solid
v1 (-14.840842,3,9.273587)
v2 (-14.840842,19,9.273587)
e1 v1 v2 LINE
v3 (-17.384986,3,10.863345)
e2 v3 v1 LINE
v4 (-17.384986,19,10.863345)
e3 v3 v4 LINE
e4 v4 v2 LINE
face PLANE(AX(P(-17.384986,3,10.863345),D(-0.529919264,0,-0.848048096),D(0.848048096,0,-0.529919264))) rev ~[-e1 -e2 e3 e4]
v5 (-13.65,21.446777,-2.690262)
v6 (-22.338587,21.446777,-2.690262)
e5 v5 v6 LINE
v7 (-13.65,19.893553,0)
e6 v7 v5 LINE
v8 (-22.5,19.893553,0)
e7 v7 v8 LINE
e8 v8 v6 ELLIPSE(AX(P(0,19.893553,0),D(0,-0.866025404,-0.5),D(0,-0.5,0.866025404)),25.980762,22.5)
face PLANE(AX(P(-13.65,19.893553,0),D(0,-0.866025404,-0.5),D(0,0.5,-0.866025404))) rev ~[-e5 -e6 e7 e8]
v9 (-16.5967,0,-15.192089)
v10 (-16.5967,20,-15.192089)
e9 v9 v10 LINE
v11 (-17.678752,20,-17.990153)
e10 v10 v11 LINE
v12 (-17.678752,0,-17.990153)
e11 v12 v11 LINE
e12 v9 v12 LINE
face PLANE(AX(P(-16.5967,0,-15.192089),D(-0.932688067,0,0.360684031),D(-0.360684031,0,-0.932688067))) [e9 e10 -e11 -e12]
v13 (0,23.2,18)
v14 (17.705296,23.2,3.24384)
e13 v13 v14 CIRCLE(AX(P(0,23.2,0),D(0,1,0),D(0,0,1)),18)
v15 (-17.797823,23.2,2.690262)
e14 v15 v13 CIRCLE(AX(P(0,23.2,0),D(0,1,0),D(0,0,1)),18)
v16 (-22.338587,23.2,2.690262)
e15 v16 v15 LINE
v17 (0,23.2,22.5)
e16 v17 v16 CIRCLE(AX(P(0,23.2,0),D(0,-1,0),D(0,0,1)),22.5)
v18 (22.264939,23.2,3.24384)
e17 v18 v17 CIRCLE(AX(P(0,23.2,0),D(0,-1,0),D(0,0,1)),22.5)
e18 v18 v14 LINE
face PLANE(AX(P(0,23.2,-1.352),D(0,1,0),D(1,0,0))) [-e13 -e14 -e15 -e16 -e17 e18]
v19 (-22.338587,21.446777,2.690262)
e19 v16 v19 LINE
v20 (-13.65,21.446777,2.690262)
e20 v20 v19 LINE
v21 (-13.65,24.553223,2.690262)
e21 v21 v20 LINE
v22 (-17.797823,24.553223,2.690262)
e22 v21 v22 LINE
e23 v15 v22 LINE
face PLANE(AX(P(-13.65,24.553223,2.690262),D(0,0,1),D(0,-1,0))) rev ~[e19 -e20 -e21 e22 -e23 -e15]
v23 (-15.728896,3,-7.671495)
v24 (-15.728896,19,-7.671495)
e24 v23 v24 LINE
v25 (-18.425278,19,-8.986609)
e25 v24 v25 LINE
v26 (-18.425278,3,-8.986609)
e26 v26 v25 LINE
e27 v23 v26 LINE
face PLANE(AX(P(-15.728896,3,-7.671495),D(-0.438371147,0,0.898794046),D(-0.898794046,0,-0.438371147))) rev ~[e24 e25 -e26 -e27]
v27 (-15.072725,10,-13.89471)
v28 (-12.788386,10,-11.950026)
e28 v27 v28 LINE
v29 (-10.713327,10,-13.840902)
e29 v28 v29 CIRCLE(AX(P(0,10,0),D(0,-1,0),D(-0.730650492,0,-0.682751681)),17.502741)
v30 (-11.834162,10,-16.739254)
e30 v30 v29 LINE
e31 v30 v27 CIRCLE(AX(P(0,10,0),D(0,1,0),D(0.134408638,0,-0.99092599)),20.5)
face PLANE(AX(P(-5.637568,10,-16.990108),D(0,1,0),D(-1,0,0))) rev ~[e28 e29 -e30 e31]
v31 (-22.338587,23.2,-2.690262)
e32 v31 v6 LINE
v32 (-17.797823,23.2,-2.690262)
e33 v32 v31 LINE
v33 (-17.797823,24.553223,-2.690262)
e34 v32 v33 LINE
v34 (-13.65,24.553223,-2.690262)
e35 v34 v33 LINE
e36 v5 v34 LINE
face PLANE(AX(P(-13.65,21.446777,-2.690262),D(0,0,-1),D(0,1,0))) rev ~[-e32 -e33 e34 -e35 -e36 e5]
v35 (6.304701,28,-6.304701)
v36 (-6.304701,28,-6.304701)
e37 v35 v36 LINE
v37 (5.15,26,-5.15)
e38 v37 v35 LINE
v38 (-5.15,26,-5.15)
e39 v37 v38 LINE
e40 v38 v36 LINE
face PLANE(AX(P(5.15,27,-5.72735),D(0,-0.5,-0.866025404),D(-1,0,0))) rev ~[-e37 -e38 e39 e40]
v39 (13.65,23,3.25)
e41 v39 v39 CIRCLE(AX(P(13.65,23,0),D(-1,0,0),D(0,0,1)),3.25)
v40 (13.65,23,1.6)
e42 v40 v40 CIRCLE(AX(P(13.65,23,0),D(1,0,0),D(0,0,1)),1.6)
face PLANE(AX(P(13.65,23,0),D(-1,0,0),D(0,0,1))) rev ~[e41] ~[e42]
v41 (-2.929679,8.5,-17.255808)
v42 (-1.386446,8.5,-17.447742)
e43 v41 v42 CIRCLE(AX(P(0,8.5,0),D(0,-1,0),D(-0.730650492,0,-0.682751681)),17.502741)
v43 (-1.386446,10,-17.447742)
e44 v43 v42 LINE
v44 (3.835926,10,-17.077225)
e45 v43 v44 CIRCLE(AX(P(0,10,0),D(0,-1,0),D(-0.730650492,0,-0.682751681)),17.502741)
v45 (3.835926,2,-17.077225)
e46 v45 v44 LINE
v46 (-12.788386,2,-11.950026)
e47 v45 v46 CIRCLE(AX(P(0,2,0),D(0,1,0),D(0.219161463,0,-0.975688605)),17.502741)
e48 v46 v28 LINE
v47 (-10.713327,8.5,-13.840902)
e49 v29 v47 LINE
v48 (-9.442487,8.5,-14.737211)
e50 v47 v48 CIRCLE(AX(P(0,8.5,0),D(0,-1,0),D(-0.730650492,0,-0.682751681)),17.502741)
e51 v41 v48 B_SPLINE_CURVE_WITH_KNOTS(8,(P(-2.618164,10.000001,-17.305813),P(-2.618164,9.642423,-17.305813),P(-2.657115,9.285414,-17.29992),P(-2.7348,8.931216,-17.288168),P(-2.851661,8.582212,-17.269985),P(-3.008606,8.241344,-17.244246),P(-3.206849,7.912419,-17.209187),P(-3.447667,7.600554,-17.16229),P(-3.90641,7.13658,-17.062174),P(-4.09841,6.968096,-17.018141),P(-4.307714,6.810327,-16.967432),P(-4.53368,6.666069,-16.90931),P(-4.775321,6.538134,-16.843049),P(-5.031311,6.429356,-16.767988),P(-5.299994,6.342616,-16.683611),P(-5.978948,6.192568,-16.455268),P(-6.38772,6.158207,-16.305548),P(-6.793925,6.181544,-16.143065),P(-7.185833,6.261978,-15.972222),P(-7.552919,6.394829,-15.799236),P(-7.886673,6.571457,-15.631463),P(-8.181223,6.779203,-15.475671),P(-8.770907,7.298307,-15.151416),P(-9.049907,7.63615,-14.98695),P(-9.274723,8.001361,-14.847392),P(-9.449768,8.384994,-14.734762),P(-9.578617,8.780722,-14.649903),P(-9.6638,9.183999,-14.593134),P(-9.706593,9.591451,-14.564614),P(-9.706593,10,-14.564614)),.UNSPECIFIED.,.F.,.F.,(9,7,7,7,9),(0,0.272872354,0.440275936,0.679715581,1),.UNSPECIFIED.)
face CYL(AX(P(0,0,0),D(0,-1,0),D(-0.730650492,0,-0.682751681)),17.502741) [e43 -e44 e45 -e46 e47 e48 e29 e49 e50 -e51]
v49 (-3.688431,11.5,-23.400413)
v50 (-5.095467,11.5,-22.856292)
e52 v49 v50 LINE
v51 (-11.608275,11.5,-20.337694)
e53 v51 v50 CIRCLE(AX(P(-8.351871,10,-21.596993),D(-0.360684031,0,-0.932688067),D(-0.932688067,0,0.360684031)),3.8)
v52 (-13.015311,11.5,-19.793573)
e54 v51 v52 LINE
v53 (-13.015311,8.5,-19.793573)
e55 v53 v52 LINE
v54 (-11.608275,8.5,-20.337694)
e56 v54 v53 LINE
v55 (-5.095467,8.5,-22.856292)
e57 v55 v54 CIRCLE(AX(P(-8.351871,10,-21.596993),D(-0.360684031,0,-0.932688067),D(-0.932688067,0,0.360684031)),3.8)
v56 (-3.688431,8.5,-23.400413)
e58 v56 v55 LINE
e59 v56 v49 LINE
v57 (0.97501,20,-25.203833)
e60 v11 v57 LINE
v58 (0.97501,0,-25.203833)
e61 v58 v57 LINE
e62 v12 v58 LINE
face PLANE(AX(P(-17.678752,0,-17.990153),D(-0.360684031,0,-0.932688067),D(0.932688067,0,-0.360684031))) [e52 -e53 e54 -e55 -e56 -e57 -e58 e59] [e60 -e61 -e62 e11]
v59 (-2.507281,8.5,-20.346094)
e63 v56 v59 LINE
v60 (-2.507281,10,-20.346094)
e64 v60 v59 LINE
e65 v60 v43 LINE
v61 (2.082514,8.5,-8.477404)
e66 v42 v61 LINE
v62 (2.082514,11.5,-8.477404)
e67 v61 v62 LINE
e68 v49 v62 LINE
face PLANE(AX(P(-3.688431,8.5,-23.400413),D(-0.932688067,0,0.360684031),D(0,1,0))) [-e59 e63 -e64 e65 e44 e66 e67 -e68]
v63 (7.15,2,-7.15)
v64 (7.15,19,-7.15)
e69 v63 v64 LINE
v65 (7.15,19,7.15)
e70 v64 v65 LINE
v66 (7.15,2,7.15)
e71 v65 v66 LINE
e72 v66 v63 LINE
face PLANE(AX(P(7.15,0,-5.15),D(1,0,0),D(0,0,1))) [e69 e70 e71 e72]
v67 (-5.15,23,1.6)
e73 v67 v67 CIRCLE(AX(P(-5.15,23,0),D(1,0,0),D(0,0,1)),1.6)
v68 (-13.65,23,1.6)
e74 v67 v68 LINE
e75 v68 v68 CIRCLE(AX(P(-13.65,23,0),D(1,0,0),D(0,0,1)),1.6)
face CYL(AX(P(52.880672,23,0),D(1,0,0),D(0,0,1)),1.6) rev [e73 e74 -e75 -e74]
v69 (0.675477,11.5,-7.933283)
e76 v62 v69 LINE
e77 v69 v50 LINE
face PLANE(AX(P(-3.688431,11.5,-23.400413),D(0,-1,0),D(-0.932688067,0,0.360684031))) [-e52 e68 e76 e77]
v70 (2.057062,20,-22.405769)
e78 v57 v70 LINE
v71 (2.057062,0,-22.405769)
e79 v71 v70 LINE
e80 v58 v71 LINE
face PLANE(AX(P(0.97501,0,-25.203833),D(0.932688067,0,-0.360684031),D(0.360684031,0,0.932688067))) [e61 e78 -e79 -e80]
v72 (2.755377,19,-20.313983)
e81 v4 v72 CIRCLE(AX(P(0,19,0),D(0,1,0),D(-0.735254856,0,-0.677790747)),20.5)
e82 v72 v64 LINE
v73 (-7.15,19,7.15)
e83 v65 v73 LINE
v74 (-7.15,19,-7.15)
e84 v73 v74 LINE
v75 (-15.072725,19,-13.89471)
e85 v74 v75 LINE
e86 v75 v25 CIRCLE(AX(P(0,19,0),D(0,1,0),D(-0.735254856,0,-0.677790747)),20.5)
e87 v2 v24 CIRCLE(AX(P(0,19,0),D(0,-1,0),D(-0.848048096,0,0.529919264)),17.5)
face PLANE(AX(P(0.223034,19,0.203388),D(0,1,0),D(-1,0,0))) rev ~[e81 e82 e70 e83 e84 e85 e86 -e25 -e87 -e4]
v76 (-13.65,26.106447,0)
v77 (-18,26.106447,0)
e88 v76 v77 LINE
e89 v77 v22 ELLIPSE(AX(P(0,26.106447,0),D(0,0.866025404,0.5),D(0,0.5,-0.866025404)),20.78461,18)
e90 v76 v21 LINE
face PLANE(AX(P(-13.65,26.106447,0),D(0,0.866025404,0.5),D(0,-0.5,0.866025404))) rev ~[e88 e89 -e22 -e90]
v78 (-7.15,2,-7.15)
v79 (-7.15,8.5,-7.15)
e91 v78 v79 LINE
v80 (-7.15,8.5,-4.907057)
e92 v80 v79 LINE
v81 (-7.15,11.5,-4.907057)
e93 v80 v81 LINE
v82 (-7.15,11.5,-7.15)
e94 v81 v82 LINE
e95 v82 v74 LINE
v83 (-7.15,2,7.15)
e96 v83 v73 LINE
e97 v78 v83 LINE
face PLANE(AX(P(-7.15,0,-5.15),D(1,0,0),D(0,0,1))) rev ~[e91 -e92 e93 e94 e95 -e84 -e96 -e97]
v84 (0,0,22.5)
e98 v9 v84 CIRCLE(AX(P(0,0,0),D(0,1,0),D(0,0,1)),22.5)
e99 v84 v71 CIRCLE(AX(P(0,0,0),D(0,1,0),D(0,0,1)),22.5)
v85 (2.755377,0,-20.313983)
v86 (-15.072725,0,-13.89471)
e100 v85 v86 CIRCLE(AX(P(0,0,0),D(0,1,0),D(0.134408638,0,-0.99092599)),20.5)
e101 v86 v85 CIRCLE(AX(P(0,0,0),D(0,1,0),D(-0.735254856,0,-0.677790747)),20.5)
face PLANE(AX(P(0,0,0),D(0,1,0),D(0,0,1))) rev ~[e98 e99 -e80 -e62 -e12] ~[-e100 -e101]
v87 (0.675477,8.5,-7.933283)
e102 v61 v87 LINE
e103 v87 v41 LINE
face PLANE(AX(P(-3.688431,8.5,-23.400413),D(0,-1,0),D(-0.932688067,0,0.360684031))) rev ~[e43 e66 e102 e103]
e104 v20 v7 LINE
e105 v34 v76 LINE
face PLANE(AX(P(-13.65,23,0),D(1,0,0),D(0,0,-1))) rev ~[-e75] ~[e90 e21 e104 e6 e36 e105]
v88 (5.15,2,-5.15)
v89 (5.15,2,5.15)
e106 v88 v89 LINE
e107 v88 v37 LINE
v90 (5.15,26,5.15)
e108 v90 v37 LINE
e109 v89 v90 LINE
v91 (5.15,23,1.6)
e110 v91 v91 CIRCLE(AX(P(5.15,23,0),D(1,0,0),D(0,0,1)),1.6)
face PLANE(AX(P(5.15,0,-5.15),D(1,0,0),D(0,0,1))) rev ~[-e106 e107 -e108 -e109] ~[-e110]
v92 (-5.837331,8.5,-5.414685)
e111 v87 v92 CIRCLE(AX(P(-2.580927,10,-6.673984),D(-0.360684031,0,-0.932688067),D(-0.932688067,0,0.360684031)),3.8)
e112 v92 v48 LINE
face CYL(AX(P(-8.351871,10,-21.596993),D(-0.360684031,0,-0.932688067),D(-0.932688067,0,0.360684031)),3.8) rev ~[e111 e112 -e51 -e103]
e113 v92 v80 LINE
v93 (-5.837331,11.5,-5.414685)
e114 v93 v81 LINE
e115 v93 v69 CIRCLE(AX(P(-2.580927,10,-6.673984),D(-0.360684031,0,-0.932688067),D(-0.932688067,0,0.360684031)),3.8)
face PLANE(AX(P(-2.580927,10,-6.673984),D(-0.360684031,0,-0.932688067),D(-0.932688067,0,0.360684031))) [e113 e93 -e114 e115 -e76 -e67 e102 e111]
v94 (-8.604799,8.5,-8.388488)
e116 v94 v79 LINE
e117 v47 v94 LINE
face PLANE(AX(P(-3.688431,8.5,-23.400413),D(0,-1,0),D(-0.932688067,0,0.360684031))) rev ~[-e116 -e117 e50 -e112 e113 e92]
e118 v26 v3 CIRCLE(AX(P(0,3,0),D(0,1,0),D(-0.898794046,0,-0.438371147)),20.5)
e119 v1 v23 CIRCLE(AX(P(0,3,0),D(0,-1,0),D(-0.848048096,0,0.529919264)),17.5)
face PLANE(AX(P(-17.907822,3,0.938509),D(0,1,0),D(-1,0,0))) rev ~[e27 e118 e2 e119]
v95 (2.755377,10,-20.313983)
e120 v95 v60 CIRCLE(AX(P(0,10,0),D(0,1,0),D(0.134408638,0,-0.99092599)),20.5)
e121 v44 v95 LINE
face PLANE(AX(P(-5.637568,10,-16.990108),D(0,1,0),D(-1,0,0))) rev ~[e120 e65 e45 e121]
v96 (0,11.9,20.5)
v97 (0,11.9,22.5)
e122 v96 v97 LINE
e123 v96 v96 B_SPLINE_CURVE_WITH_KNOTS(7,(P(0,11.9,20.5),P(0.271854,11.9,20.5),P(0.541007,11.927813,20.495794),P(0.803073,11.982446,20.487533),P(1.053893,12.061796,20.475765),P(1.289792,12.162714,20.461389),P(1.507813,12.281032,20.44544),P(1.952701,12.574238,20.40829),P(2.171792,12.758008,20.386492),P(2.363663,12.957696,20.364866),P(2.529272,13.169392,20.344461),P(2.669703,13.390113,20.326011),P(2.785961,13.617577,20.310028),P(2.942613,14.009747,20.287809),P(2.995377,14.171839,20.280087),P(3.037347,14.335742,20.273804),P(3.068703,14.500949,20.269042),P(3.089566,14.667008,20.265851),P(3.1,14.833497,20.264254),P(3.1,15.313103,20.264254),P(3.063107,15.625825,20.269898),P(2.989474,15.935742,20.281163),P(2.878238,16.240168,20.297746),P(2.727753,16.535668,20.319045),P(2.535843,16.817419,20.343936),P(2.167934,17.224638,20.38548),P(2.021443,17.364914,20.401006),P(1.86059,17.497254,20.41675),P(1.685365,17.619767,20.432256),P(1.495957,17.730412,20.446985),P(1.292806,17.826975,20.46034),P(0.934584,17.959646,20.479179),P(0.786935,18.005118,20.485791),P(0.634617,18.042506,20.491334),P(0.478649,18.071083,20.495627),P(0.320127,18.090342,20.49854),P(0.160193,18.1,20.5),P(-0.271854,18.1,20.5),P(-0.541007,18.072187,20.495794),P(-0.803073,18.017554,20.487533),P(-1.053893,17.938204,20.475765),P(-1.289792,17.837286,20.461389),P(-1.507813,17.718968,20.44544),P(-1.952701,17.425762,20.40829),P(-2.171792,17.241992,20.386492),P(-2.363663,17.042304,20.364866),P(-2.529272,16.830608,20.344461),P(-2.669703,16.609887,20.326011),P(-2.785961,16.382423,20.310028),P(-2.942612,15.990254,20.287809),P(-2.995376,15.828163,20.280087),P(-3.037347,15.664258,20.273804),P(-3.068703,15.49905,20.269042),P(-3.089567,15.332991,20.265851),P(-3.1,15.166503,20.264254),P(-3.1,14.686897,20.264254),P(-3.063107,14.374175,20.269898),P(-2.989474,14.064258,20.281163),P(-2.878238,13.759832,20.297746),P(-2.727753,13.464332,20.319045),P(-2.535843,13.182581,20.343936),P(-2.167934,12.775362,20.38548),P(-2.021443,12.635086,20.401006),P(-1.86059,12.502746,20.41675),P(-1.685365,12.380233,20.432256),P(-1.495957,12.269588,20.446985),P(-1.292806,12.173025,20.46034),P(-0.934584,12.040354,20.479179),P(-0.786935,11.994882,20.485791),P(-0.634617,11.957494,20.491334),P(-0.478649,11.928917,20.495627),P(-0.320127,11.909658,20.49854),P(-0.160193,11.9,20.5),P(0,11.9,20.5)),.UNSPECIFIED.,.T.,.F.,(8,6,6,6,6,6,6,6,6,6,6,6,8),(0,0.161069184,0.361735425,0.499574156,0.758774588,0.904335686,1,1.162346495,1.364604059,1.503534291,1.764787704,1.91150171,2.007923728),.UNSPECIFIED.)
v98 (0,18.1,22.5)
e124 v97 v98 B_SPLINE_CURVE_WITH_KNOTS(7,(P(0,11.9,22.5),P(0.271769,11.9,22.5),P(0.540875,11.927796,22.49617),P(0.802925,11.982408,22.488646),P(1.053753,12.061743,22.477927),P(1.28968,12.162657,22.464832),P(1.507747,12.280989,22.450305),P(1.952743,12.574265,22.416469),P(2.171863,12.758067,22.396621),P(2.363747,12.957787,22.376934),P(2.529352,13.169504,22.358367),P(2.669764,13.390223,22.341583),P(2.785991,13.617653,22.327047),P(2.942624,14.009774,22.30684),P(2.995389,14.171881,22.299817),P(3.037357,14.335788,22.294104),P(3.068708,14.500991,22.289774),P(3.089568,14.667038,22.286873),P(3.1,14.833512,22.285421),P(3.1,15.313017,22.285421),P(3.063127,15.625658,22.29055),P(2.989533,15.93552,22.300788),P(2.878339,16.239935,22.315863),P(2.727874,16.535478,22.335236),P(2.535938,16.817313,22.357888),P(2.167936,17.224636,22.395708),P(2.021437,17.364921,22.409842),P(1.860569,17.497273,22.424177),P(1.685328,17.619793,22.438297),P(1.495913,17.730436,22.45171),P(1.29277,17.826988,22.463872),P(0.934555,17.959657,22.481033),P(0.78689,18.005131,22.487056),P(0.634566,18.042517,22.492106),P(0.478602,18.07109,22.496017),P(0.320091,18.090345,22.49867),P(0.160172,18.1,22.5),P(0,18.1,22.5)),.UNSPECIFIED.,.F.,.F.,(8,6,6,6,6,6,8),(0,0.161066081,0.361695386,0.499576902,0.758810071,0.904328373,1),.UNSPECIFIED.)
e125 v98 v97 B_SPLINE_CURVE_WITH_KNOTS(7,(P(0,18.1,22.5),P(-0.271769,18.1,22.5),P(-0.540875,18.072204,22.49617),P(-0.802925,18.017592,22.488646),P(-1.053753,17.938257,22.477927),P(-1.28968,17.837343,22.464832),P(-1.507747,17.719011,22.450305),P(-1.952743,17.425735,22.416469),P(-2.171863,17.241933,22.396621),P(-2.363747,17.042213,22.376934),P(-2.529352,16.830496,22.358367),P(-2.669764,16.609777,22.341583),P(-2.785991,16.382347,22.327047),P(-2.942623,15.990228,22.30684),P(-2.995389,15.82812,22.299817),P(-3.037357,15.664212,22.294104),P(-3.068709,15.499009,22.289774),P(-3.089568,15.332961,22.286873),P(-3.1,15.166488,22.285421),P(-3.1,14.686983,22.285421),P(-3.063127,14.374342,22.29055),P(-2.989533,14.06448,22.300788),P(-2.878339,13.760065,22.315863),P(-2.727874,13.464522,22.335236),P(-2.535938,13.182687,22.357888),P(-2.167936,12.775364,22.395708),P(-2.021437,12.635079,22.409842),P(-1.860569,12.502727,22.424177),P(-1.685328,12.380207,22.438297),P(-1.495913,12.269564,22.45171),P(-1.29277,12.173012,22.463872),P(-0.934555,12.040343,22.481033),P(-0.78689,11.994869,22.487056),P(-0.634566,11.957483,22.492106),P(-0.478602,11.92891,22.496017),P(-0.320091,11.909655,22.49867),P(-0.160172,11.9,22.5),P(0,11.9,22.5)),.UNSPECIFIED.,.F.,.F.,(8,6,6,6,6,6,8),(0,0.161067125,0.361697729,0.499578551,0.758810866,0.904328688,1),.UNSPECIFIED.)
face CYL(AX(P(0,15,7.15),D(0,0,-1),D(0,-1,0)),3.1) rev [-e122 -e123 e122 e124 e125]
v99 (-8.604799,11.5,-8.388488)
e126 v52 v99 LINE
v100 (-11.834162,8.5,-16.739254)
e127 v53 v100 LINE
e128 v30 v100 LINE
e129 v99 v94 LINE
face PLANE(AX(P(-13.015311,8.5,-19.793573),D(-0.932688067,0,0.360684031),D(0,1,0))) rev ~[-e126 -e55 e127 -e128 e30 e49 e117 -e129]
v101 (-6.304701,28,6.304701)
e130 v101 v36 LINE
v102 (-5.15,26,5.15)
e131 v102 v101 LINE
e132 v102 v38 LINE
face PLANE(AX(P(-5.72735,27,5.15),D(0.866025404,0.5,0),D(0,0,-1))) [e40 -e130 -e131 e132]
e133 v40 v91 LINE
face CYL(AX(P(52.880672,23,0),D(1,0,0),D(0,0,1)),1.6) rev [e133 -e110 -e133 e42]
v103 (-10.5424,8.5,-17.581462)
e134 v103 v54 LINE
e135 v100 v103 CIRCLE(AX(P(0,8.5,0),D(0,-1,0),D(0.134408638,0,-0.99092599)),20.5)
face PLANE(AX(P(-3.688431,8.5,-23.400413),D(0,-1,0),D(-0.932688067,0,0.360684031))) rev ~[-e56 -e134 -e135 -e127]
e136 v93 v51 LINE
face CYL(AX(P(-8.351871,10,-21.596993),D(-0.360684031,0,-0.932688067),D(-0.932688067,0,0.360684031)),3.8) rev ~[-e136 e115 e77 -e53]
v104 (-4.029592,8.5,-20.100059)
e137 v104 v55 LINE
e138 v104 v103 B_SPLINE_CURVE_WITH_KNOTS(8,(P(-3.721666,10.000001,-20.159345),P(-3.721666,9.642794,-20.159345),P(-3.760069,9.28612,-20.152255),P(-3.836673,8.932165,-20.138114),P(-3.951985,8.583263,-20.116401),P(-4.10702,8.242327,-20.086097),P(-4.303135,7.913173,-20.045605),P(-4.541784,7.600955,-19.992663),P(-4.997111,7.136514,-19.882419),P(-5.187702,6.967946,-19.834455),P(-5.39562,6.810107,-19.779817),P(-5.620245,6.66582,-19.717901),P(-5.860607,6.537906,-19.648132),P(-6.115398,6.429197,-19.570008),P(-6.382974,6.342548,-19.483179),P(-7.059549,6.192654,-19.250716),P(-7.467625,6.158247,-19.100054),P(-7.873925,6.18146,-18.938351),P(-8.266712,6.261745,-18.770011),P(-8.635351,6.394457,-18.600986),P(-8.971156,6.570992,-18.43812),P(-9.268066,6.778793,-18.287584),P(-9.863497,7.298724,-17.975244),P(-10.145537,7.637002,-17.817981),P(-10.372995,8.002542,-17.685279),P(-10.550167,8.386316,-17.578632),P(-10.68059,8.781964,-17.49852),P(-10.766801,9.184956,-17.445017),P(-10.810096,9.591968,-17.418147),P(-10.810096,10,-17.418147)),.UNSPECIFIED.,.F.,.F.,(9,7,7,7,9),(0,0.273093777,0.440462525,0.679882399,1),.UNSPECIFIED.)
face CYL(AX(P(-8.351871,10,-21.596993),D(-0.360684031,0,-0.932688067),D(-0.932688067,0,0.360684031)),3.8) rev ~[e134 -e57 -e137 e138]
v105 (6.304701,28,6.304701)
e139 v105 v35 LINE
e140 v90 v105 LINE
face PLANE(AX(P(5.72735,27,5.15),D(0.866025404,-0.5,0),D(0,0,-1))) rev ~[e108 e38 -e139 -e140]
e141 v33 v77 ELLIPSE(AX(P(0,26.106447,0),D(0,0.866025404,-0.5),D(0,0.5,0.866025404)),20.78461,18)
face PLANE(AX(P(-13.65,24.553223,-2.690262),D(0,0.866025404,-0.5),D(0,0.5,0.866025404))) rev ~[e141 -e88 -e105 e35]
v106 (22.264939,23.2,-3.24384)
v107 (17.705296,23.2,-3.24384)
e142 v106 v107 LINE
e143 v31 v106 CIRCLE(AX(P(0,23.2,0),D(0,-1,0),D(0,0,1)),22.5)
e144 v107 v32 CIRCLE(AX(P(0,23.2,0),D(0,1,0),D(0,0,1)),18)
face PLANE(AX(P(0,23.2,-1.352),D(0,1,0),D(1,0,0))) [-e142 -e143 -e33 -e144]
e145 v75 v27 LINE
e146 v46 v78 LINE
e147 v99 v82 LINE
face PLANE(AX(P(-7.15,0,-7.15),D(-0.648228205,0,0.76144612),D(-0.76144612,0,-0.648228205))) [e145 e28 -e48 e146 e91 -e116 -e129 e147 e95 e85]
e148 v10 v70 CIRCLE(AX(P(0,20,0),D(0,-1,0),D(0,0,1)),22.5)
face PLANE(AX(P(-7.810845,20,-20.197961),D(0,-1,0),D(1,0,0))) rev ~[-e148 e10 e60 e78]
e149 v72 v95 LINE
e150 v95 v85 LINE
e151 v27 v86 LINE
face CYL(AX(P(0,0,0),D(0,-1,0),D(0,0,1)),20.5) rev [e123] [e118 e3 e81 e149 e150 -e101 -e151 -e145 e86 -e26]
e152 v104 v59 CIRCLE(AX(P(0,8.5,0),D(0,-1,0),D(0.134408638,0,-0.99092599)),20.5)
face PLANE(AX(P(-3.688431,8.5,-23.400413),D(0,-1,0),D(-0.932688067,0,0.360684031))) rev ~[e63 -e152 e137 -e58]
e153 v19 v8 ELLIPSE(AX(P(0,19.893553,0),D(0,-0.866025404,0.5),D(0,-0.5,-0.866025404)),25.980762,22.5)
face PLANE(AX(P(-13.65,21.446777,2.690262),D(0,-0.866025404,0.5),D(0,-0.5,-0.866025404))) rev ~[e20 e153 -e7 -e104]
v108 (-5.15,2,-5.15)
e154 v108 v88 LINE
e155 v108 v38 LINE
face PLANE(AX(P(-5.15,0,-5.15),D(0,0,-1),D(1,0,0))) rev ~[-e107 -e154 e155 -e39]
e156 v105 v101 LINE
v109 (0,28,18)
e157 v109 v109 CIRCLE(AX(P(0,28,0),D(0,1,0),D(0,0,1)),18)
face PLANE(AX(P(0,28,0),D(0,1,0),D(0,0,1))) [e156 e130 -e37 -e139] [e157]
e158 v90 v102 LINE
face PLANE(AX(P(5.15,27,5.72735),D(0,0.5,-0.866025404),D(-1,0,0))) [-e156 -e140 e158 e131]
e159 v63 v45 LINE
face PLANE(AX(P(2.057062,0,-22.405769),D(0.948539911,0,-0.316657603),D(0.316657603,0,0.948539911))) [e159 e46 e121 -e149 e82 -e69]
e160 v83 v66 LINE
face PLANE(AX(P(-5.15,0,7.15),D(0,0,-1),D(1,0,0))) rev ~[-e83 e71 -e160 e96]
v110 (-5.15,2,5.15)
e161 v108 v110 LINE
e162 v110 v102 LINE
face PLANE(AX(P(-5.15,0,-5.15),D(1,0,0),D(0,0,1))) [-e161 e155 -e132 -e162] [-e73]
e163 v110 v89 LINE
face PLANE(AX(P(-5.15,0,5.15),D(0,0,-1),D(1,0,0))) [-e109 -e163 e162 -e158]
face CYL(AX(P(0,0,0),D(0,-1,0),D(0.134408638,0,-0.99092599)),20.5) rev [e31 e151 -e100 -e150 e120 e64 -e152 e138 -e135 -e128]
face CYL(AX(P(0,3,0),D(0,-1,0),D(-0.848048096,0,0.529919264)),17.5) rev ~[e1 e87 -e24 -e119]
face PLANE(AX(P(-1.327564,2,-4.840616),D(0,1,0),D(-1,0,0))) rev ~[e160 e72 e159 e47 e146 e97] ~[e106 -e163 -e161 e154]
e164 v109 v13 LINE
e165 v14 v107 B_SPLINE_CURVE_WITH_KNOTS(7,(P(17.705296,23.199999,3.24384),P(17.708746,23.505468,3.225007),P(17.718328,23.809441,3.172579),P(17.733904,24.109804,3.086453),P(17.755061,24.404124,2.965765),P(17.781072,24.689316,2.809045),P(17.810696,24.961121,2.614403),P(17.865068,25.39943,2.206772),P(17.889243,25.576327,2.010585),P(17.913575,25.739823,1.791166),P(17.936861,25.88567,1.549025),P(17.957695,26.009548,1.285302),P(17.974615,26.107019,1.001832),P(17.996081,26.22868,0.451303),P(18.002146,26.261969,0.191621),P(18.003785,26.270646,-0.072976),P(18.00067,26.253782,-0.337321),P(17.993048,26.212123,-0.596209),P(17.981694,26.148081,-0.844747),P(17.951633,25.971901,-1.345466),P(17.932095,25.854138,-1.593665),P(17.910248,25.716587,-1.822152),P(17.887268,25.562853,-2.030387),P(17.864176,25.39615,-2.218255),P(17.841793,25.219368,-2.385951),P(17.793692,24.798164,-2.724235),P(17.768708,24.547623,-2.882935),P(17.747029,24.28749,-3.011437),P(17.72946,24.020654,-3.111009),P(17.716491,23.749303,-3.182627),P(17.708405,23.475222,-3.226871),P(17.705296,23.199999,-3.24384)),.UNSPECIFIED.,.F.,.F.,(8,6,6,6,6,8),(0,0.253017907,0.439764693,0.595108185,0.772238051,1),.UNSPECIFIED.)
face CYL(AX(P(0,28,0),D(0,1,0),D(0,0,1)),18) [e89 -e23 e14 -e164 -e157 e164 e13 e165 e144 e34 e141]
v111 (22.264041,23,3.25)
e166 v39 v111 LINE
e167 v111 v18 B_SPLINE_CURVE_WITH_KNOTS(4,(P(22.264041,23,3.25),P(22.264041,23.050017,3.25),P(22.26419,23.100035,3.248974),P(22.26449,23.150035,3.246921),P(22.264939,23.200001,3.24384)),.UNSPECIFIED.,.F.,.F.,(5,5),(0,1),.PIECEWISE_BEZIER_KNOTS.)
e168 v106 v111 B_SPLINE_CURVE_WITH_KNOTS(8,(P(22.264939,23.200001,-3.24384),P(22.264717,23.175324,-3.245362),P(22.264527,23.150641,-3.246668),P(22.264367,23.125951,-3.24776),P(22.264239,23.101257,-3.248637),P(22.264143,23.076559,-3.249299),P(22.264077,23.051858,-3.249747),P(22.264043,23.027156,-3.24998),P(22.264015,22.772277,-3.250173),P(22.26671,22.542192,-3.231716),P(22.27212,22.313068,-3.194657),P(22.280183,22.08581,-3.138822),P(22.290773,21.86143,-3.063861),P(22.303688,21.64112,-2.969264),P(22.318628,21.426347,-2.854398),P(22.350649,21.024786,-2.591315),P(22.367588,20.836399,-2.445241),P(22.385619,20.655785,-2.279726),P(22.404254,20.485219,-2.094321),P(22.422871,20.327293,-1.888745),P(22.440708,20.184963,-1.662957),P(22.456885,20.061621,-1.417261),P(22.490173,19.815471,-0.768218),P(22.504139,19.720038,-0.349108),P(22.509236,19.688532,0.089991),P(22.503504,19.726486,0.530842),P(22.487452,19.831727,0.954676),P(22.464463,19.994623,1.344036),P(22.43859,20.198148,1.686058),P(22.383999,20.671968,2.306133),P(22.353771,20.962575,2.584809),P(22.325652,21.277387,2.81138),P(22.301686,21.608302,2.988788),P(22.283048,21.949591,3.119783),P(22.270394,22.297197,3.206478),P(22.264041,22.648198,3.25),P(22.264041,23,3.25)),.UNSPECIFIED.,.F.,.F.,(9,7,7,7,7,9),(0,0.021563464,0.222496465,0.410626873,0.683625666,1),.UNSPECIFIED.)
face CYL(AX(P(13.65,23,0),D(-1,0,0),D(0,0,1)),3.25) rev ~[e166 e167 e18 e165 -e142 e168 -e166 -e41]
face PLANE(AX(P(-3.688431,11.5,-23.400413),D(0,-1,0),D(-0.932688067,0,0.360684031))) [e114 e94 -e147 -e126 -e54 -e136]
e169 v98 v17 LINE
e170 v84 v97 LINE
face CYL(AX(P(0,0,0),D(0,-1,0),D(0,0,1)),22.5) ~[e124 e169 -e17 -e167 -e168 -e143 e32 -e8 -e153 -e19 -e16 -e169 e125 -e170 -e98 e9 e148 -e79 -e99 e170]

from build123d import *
from OCP.BRepFilletAPI import BRepFilletAPI_MakeChamfer

# Parameters (mm, degrees)
SKETCH1_R                = 22.5
BOSS_EXTRUDE1_DEPTH      = 28
SKETCH2_W                = 10.3
SKETCH2_H                = 10.3
CUT_EXTRUDE2_DEPTH       = 43.385138905
SHELL3_T                 = -2
SKETCH3_R                = 3.1
CUT_EXTRUDE3_DEPTH       = 47.576523056
CHAMFER1_SIZE            = 2
CHAMFER1_SIZE2           = 1.154700538
BOSS_EXTRUDE8_START      = 23
BOSS_EXTRUDE8_DEPTH      = 23
BOSS_EXTRUDE4_DEPTH      = 20
BOSS_EXTRUDE6_DEPTH      = 26
CUT_EXTRUDE5_DEPTH       = 10
SKETCH13_R               = 3.8
CUT_EXTRUDE6_DEPTH       = 16
SKETCH15_W               = 10
SKETCH15_H               = 3
CUT_EXTRUDE8_DEPTH       = 16
CUT_EXTRUDE9_DEPTH       = 2
BOSS_EXTRUDE10_START     = 7
BOSS_EXTRUDE10_DEPTH     = 7
SKETCH21_OUTSIDE_W       = 61.262
SKETCH21_OUTSIDE_H       = 63.966
SKETCH21_OUTSIDE_R       = 18
CUT_EXTRUDE11_DEPTH      = 4.8
CUT_EXTRUDE12_DEPTH      = 47.730672242
CUT_EXTRUDE12_DEPTH_BACK = 47.730672242
SKETCH22_R               = 1.6
CUT_EXTRUDE13_START      = -8.5
SKETCH24_R               = 3.25
CUT_EXTRUDE13_DEPTH      = 39.230672302
CUT_EXTRUDE14_START      = -8.5
CUT_EXTRUDE14_DEPTH      = 39.230672304


with BuildPart() as part:
    # Sketch1 → Boss-Extrude1 (new body)
    with BuildSketch(Plane(origin=(0, 0, 0), x_dir=(1, 0, 0), z_dir=(0, 1, 0))):
        with Locations(Location((0, 0, 0), (0, 0, 270))):
            Circle(SKETCH1_R)
    extrude(amount=BOSS_EXTRUDE1_DEPTH)

    # Sketch2 → Cut-Extrude2 (cut, through all)
    with BuildSketch(Plane.XZ):
        Rectangle(SKETCH2_W, SKETCH2_H)
    extrude(amount=-CUT_EXTRUDE2_DEPTH, mode=Mode.SUBTRACT)

    # Shell3
    shell3_openings = [part.faces().sort_by_distance(p)[0] for p in [
        (0, 0, -21.863603897),
    ]]
    offset(amount=SHELL3_T, openings=shell3_openings, kind=Kind.INTERSECTION)

    # Sketch3 → Cut-Extrude3 (cut, through all)
    with BuildSketch(Plane.XY.offset(7.15)):
        with Locations(Location((0, 15, 0), (0, 0, 270.000000016))):
            Circle(SKETCH3_R)
    extrude(amount=CUT_EXTRUDE3_DEPTH, mode=Mode.SUBTRACT)

    # Chamfer1: one chamfer whose edges measure the first distance from different faces: ONE call of the kernel's chamfer builder (chamfer() names one face for all edges)
    chamfer1_edges_1 = [part.edges().sort_by_distance(p)[0] for p in [
        (5.15, 28, 0),
    ]]
    chamfer1_side_1 = [part.faces().sort_by_distance(p)[0] for p in [
        (5.15, 14, 0),
    ]]
    chamfer1_edges_2 = [part.edges().sort_by_distance(p)[0] for p in [
        (0, 28, -5.15),
    ]]
    chamfer1_side_2 = [part.faces().sort_by_distance(p)[0] for p in [
        (0, 14, -5.15),
    ]]
    chamfer1_edges_3 = [part.edges().sort_by_distance(p)[0] for p in [
        (-5.15, 28, 0),
    ]]
    chamfer1_side_3 = [part.faces().sort_by_distance(p)[0] for p in [
        (-5.15, 14, 0),
    ]]
    chamfer1_edges_4 = [part.edges().sort_by_distance(p)[0] for p in [
        (0, 28, 5.15),
    ]]
    chamfer1_side_4 = [part.faces().sort_by_distance(p)[0] for p in [
        (0, 14, 5.15),
    ]]
    chamfer1 = BRepFilletAPI_MakeChamfer(part.part.solid().wrapped)
    for e in chamfer1_edges_1:
        chamfer1.Add(CHAMFER1_SIZE, CHAMFER1_SIZE2, e.wrapped, chamfer1_side_1[0].wrapped)  # the first distance lies on this face
    for e in chamfer1_edges_2:
        chamfer1.Add(CHAMFER1_SIZE, CHAMFER1_SIZE2, e.wrapped, chamfer1_side_2[0].wrapped)  # the first distance lies on this face
    for e in chamfer1_edges_3:
        chamfer1.Add(CHAMFER1_SIZE, CHAMFER1_SIZE2, e.wrapped, chamfer1_side_3[0].wrapped)  # the first distance lies on this face
    for e in chamfer1_edges_4:
        chamfer1.Add(CHAMFER1_SIZE, CHAMFER1_SIZE2, e.wrapped, chamfer1_side_4[0].wrapped)  # the first distance lies on this face
    add(Compound.cast(chamfer1.Shape()), mode=Mode.REPLACE)

    # Sketch18 → Boss-Extrude8 (add)
    with BuildSketch(Plane.XZ.offset(-26).offset(BOSS_EXTRUDE8_START)):
        with BuildLine():
            Line((-15.72889581, -7.671495069), (-18.425277949, -8.986608509))
            ThreePointArc((-18.425277949, -8.986608509), (-20.471905462, 1.072887103), (-17.384985971, 10.863344917))
            Line((-17.384985971, 10.863344917), (-14.840841683, 9.273587124))
            ThreePointArc((-14.840841683, 9.273587124), (-17.476016858, 0.915879234), (-15.72889581, -7.671495069))
        make_face()
    extrude(amount=-BOSS_EXTRUDE8_DEPTH)

    # Sketch9 → Boss-Extrude4 (add)
    with BuildSketch(Plane.XZ):
        Polygon((2.057061598, -22.405769292), (-16.596699733, -15.192088664), (-17.678751827, -17.990152864), (0.975009504, -25.203833492), align=None)
    extrude(amount=-BOSS_EXTRUDE4_DEPTH)

    # Sketch11 → Boss-Extrude6 (add)
    with BuildSketch(Plane.XZ):
        with BuildLine():
            Line((2.057061598, -22.405769292), (7.15, -7.15))
            Line((7.15, -7.15), (-7.15, -7.15))
            Line((-7.15, -7.15), (-16.596699733, -15.192088664))
            ThreePointArc((-16.596699733, -15.192088664), (-8.115390707, -20.985481497), (2.057061598, -22.405769292))
        make_face()
    extrude(amount=-BOSS_EXTRUDE6_DEPTH)

    # Sketch12 → Cut-Extrude5 (cut)
    with BuildSketch(Plane.XZ):
        with BuildLine():
            Line((3.835926277, -17.077224747), (2.755377072, -20.3139828))
            ThreePointArc((2.755377072, -20.3139828), (-6.94485615, -19.287793369), (-15.072724539, -13.894710323))
            Line((-15.072724539, -13.894710323), (-12.788386178, -11.950025708))
            ThreePointArc((-12.788386178, -11.950025708), (-5.15835992, -16.725347781), (3.835926277, -17.077224747))
        make_face()
    extrude(amount=-CUT_EXTRUDE5_DEPTH, mode=Mode.SUBTRACT)

    # Sketch13 → Cut-Extrude6 (cut)
    with BuildSketch(Plane(origin=(-8.351871161, 0, -21.596993178), x_dir=(-0.9326880665539258, 0, 0.3606840314013081), z_dir=(-0.3606840314013081, 0, -0.9326880665539258))):
        with Locations((0, 10)):
            Circle(SKETCH13_R)
    extrude(amount=-CUT_EXTRUDE6_DEPTH, mode=Mode.SUBTRACT)

    # Sketch15 → Cut-Extrude8 (cut)
    with BuildSketch(Plane(origin=(-8.351871161, 0, -21.596993178), x_dir=(-0.9326880665539258, 0, 0.3606840314013081), z_dir=(-0.3606840314013081, 0, -0.9326880665539258))):
        with Locations((0, 10)):
            Rectangle(SKETCH15_W, SKETCH15_H)
    extrude(amount=-CUT_EXTRUDE8_DEPTH, mode=Mode.SUBTRACT)

    # Sketch17 → Cut-Extrude9 (cut)
    with BuildSketch(Plane.XZ):
        with BuildLine():
            Line((7.15, 7.15), (7.15, -7.15))
            Line((7.15, -7.15), (3.835926277, -17.077224747))
            ThreePointArc((3.835926277, -17.077224747), (-5.15835992, -16.725347781), (-12.788386178, -11.950025708))
            Line((-12.788386178, -11.950025708), (-7.15, -7.15))
            Line((-7.15, -7.15), (-7.15, 7.15))
            Line((-7.15, 7.15), (7.15, 7.15))
        make_face()
    extrude(amount=-CUT_EXTRUDE9_DEPTH, mode=Mode.SUBTRACT)

    # Sketch20 → Boss-Extrude10 (add)
    with BuildSketch(Plane.XZ.offset(-26).offset(BOSS_EXTRUDE10_START)):
        with BuildLine():
            Line((2.755377072, -20.3139828), (7.15, -7.15))
            Line((7.15, -7.15), (7.15, 7.15))
            Line((7.15, 7.15), (-7.15, 7.15))
            Line((-7.15, 7.15), (-7.15, -7.15))
            Line((-7.15, -7.15), (-15.072724539, -13.894710323))
            ThreePointArc((-15.072724539, -13.894710323), (6.94485615, 19.287793369), (2.755377072, -20.3139828))
        make_face()
    extrude(amount=-BOSS_EXTRUDE10_DEPTH)

    # Sketch21 outside → Cut-Extrude11 (cut)
    with BuildSketch(Plane(origin=(0, 28, 0), x_dir=(1, 0, 0), z_dir=(0, 1, 0))):
        with Locations((0, 1.352)):
            Rectangle(SKETCH21_OUTSIDE_W, SKETCH21_OUTSIDE_H)
        with Locations(Location((0, 0, 0), (0, 0, 270))):
            Circle(SKETCH21_OUTSIDE_R, mode=Mode.SUBTRACT)
    extrude(amount=-CUT_EXTRUDE11_DEPTH, mode=Mode.SUBTRACT)

    # Sketch22 → Cut-Extrude12 (cut, two sides: drawn at the far end of the back side and taken through both)
    with BuildSketch(Plane.ZY.offset(-5.15).offset(-CUT_EXTRUDE12_DEPTH_BACK)):
        with Locations((0, 23)):
            Circle(SKETCH22_R)
    extrude(amount=CUT_EXTRUDE12_DEPTH + CUT_EXTRUDE12_DEPTH_BACK, mode=Mode.SUBTRACT)

    # Sketch24 → Cut-Extrude13 (cut, through all)
    with BuildSketch(Plane.ZY.offset(-5.15).offset(CUT_EXTRUDE13_START)):
        with Locations((0, 23)):
            Circle(SKETCH24_R)
    extrude(amount=-CUT_EXTRUDE13_DEPTH, mode=Mode.SUBTRACT)

    # Sketch25 → Cut-Extrude14 (cut, through all)
    with BuildSketch(Plane(origin=(-5.15, 0, 0), x_dir=(0, 0, -1), z_dir=(1, 0, 0)).offset(CUT_EXTRUDE14_START)):
        Polygon((0, 19.893553151), (2.690261887, 21.446776575), (2.690261887, 24.553223425), (0, 26.106446849), (-2.690261887, 24.553223425), (-2.690261887, 21.446776575), align=None)
    extrude(amount=-CUT_EXTRUDE14_DEPTH, mode=Mode.SUBTRACT)


solid = part.part
